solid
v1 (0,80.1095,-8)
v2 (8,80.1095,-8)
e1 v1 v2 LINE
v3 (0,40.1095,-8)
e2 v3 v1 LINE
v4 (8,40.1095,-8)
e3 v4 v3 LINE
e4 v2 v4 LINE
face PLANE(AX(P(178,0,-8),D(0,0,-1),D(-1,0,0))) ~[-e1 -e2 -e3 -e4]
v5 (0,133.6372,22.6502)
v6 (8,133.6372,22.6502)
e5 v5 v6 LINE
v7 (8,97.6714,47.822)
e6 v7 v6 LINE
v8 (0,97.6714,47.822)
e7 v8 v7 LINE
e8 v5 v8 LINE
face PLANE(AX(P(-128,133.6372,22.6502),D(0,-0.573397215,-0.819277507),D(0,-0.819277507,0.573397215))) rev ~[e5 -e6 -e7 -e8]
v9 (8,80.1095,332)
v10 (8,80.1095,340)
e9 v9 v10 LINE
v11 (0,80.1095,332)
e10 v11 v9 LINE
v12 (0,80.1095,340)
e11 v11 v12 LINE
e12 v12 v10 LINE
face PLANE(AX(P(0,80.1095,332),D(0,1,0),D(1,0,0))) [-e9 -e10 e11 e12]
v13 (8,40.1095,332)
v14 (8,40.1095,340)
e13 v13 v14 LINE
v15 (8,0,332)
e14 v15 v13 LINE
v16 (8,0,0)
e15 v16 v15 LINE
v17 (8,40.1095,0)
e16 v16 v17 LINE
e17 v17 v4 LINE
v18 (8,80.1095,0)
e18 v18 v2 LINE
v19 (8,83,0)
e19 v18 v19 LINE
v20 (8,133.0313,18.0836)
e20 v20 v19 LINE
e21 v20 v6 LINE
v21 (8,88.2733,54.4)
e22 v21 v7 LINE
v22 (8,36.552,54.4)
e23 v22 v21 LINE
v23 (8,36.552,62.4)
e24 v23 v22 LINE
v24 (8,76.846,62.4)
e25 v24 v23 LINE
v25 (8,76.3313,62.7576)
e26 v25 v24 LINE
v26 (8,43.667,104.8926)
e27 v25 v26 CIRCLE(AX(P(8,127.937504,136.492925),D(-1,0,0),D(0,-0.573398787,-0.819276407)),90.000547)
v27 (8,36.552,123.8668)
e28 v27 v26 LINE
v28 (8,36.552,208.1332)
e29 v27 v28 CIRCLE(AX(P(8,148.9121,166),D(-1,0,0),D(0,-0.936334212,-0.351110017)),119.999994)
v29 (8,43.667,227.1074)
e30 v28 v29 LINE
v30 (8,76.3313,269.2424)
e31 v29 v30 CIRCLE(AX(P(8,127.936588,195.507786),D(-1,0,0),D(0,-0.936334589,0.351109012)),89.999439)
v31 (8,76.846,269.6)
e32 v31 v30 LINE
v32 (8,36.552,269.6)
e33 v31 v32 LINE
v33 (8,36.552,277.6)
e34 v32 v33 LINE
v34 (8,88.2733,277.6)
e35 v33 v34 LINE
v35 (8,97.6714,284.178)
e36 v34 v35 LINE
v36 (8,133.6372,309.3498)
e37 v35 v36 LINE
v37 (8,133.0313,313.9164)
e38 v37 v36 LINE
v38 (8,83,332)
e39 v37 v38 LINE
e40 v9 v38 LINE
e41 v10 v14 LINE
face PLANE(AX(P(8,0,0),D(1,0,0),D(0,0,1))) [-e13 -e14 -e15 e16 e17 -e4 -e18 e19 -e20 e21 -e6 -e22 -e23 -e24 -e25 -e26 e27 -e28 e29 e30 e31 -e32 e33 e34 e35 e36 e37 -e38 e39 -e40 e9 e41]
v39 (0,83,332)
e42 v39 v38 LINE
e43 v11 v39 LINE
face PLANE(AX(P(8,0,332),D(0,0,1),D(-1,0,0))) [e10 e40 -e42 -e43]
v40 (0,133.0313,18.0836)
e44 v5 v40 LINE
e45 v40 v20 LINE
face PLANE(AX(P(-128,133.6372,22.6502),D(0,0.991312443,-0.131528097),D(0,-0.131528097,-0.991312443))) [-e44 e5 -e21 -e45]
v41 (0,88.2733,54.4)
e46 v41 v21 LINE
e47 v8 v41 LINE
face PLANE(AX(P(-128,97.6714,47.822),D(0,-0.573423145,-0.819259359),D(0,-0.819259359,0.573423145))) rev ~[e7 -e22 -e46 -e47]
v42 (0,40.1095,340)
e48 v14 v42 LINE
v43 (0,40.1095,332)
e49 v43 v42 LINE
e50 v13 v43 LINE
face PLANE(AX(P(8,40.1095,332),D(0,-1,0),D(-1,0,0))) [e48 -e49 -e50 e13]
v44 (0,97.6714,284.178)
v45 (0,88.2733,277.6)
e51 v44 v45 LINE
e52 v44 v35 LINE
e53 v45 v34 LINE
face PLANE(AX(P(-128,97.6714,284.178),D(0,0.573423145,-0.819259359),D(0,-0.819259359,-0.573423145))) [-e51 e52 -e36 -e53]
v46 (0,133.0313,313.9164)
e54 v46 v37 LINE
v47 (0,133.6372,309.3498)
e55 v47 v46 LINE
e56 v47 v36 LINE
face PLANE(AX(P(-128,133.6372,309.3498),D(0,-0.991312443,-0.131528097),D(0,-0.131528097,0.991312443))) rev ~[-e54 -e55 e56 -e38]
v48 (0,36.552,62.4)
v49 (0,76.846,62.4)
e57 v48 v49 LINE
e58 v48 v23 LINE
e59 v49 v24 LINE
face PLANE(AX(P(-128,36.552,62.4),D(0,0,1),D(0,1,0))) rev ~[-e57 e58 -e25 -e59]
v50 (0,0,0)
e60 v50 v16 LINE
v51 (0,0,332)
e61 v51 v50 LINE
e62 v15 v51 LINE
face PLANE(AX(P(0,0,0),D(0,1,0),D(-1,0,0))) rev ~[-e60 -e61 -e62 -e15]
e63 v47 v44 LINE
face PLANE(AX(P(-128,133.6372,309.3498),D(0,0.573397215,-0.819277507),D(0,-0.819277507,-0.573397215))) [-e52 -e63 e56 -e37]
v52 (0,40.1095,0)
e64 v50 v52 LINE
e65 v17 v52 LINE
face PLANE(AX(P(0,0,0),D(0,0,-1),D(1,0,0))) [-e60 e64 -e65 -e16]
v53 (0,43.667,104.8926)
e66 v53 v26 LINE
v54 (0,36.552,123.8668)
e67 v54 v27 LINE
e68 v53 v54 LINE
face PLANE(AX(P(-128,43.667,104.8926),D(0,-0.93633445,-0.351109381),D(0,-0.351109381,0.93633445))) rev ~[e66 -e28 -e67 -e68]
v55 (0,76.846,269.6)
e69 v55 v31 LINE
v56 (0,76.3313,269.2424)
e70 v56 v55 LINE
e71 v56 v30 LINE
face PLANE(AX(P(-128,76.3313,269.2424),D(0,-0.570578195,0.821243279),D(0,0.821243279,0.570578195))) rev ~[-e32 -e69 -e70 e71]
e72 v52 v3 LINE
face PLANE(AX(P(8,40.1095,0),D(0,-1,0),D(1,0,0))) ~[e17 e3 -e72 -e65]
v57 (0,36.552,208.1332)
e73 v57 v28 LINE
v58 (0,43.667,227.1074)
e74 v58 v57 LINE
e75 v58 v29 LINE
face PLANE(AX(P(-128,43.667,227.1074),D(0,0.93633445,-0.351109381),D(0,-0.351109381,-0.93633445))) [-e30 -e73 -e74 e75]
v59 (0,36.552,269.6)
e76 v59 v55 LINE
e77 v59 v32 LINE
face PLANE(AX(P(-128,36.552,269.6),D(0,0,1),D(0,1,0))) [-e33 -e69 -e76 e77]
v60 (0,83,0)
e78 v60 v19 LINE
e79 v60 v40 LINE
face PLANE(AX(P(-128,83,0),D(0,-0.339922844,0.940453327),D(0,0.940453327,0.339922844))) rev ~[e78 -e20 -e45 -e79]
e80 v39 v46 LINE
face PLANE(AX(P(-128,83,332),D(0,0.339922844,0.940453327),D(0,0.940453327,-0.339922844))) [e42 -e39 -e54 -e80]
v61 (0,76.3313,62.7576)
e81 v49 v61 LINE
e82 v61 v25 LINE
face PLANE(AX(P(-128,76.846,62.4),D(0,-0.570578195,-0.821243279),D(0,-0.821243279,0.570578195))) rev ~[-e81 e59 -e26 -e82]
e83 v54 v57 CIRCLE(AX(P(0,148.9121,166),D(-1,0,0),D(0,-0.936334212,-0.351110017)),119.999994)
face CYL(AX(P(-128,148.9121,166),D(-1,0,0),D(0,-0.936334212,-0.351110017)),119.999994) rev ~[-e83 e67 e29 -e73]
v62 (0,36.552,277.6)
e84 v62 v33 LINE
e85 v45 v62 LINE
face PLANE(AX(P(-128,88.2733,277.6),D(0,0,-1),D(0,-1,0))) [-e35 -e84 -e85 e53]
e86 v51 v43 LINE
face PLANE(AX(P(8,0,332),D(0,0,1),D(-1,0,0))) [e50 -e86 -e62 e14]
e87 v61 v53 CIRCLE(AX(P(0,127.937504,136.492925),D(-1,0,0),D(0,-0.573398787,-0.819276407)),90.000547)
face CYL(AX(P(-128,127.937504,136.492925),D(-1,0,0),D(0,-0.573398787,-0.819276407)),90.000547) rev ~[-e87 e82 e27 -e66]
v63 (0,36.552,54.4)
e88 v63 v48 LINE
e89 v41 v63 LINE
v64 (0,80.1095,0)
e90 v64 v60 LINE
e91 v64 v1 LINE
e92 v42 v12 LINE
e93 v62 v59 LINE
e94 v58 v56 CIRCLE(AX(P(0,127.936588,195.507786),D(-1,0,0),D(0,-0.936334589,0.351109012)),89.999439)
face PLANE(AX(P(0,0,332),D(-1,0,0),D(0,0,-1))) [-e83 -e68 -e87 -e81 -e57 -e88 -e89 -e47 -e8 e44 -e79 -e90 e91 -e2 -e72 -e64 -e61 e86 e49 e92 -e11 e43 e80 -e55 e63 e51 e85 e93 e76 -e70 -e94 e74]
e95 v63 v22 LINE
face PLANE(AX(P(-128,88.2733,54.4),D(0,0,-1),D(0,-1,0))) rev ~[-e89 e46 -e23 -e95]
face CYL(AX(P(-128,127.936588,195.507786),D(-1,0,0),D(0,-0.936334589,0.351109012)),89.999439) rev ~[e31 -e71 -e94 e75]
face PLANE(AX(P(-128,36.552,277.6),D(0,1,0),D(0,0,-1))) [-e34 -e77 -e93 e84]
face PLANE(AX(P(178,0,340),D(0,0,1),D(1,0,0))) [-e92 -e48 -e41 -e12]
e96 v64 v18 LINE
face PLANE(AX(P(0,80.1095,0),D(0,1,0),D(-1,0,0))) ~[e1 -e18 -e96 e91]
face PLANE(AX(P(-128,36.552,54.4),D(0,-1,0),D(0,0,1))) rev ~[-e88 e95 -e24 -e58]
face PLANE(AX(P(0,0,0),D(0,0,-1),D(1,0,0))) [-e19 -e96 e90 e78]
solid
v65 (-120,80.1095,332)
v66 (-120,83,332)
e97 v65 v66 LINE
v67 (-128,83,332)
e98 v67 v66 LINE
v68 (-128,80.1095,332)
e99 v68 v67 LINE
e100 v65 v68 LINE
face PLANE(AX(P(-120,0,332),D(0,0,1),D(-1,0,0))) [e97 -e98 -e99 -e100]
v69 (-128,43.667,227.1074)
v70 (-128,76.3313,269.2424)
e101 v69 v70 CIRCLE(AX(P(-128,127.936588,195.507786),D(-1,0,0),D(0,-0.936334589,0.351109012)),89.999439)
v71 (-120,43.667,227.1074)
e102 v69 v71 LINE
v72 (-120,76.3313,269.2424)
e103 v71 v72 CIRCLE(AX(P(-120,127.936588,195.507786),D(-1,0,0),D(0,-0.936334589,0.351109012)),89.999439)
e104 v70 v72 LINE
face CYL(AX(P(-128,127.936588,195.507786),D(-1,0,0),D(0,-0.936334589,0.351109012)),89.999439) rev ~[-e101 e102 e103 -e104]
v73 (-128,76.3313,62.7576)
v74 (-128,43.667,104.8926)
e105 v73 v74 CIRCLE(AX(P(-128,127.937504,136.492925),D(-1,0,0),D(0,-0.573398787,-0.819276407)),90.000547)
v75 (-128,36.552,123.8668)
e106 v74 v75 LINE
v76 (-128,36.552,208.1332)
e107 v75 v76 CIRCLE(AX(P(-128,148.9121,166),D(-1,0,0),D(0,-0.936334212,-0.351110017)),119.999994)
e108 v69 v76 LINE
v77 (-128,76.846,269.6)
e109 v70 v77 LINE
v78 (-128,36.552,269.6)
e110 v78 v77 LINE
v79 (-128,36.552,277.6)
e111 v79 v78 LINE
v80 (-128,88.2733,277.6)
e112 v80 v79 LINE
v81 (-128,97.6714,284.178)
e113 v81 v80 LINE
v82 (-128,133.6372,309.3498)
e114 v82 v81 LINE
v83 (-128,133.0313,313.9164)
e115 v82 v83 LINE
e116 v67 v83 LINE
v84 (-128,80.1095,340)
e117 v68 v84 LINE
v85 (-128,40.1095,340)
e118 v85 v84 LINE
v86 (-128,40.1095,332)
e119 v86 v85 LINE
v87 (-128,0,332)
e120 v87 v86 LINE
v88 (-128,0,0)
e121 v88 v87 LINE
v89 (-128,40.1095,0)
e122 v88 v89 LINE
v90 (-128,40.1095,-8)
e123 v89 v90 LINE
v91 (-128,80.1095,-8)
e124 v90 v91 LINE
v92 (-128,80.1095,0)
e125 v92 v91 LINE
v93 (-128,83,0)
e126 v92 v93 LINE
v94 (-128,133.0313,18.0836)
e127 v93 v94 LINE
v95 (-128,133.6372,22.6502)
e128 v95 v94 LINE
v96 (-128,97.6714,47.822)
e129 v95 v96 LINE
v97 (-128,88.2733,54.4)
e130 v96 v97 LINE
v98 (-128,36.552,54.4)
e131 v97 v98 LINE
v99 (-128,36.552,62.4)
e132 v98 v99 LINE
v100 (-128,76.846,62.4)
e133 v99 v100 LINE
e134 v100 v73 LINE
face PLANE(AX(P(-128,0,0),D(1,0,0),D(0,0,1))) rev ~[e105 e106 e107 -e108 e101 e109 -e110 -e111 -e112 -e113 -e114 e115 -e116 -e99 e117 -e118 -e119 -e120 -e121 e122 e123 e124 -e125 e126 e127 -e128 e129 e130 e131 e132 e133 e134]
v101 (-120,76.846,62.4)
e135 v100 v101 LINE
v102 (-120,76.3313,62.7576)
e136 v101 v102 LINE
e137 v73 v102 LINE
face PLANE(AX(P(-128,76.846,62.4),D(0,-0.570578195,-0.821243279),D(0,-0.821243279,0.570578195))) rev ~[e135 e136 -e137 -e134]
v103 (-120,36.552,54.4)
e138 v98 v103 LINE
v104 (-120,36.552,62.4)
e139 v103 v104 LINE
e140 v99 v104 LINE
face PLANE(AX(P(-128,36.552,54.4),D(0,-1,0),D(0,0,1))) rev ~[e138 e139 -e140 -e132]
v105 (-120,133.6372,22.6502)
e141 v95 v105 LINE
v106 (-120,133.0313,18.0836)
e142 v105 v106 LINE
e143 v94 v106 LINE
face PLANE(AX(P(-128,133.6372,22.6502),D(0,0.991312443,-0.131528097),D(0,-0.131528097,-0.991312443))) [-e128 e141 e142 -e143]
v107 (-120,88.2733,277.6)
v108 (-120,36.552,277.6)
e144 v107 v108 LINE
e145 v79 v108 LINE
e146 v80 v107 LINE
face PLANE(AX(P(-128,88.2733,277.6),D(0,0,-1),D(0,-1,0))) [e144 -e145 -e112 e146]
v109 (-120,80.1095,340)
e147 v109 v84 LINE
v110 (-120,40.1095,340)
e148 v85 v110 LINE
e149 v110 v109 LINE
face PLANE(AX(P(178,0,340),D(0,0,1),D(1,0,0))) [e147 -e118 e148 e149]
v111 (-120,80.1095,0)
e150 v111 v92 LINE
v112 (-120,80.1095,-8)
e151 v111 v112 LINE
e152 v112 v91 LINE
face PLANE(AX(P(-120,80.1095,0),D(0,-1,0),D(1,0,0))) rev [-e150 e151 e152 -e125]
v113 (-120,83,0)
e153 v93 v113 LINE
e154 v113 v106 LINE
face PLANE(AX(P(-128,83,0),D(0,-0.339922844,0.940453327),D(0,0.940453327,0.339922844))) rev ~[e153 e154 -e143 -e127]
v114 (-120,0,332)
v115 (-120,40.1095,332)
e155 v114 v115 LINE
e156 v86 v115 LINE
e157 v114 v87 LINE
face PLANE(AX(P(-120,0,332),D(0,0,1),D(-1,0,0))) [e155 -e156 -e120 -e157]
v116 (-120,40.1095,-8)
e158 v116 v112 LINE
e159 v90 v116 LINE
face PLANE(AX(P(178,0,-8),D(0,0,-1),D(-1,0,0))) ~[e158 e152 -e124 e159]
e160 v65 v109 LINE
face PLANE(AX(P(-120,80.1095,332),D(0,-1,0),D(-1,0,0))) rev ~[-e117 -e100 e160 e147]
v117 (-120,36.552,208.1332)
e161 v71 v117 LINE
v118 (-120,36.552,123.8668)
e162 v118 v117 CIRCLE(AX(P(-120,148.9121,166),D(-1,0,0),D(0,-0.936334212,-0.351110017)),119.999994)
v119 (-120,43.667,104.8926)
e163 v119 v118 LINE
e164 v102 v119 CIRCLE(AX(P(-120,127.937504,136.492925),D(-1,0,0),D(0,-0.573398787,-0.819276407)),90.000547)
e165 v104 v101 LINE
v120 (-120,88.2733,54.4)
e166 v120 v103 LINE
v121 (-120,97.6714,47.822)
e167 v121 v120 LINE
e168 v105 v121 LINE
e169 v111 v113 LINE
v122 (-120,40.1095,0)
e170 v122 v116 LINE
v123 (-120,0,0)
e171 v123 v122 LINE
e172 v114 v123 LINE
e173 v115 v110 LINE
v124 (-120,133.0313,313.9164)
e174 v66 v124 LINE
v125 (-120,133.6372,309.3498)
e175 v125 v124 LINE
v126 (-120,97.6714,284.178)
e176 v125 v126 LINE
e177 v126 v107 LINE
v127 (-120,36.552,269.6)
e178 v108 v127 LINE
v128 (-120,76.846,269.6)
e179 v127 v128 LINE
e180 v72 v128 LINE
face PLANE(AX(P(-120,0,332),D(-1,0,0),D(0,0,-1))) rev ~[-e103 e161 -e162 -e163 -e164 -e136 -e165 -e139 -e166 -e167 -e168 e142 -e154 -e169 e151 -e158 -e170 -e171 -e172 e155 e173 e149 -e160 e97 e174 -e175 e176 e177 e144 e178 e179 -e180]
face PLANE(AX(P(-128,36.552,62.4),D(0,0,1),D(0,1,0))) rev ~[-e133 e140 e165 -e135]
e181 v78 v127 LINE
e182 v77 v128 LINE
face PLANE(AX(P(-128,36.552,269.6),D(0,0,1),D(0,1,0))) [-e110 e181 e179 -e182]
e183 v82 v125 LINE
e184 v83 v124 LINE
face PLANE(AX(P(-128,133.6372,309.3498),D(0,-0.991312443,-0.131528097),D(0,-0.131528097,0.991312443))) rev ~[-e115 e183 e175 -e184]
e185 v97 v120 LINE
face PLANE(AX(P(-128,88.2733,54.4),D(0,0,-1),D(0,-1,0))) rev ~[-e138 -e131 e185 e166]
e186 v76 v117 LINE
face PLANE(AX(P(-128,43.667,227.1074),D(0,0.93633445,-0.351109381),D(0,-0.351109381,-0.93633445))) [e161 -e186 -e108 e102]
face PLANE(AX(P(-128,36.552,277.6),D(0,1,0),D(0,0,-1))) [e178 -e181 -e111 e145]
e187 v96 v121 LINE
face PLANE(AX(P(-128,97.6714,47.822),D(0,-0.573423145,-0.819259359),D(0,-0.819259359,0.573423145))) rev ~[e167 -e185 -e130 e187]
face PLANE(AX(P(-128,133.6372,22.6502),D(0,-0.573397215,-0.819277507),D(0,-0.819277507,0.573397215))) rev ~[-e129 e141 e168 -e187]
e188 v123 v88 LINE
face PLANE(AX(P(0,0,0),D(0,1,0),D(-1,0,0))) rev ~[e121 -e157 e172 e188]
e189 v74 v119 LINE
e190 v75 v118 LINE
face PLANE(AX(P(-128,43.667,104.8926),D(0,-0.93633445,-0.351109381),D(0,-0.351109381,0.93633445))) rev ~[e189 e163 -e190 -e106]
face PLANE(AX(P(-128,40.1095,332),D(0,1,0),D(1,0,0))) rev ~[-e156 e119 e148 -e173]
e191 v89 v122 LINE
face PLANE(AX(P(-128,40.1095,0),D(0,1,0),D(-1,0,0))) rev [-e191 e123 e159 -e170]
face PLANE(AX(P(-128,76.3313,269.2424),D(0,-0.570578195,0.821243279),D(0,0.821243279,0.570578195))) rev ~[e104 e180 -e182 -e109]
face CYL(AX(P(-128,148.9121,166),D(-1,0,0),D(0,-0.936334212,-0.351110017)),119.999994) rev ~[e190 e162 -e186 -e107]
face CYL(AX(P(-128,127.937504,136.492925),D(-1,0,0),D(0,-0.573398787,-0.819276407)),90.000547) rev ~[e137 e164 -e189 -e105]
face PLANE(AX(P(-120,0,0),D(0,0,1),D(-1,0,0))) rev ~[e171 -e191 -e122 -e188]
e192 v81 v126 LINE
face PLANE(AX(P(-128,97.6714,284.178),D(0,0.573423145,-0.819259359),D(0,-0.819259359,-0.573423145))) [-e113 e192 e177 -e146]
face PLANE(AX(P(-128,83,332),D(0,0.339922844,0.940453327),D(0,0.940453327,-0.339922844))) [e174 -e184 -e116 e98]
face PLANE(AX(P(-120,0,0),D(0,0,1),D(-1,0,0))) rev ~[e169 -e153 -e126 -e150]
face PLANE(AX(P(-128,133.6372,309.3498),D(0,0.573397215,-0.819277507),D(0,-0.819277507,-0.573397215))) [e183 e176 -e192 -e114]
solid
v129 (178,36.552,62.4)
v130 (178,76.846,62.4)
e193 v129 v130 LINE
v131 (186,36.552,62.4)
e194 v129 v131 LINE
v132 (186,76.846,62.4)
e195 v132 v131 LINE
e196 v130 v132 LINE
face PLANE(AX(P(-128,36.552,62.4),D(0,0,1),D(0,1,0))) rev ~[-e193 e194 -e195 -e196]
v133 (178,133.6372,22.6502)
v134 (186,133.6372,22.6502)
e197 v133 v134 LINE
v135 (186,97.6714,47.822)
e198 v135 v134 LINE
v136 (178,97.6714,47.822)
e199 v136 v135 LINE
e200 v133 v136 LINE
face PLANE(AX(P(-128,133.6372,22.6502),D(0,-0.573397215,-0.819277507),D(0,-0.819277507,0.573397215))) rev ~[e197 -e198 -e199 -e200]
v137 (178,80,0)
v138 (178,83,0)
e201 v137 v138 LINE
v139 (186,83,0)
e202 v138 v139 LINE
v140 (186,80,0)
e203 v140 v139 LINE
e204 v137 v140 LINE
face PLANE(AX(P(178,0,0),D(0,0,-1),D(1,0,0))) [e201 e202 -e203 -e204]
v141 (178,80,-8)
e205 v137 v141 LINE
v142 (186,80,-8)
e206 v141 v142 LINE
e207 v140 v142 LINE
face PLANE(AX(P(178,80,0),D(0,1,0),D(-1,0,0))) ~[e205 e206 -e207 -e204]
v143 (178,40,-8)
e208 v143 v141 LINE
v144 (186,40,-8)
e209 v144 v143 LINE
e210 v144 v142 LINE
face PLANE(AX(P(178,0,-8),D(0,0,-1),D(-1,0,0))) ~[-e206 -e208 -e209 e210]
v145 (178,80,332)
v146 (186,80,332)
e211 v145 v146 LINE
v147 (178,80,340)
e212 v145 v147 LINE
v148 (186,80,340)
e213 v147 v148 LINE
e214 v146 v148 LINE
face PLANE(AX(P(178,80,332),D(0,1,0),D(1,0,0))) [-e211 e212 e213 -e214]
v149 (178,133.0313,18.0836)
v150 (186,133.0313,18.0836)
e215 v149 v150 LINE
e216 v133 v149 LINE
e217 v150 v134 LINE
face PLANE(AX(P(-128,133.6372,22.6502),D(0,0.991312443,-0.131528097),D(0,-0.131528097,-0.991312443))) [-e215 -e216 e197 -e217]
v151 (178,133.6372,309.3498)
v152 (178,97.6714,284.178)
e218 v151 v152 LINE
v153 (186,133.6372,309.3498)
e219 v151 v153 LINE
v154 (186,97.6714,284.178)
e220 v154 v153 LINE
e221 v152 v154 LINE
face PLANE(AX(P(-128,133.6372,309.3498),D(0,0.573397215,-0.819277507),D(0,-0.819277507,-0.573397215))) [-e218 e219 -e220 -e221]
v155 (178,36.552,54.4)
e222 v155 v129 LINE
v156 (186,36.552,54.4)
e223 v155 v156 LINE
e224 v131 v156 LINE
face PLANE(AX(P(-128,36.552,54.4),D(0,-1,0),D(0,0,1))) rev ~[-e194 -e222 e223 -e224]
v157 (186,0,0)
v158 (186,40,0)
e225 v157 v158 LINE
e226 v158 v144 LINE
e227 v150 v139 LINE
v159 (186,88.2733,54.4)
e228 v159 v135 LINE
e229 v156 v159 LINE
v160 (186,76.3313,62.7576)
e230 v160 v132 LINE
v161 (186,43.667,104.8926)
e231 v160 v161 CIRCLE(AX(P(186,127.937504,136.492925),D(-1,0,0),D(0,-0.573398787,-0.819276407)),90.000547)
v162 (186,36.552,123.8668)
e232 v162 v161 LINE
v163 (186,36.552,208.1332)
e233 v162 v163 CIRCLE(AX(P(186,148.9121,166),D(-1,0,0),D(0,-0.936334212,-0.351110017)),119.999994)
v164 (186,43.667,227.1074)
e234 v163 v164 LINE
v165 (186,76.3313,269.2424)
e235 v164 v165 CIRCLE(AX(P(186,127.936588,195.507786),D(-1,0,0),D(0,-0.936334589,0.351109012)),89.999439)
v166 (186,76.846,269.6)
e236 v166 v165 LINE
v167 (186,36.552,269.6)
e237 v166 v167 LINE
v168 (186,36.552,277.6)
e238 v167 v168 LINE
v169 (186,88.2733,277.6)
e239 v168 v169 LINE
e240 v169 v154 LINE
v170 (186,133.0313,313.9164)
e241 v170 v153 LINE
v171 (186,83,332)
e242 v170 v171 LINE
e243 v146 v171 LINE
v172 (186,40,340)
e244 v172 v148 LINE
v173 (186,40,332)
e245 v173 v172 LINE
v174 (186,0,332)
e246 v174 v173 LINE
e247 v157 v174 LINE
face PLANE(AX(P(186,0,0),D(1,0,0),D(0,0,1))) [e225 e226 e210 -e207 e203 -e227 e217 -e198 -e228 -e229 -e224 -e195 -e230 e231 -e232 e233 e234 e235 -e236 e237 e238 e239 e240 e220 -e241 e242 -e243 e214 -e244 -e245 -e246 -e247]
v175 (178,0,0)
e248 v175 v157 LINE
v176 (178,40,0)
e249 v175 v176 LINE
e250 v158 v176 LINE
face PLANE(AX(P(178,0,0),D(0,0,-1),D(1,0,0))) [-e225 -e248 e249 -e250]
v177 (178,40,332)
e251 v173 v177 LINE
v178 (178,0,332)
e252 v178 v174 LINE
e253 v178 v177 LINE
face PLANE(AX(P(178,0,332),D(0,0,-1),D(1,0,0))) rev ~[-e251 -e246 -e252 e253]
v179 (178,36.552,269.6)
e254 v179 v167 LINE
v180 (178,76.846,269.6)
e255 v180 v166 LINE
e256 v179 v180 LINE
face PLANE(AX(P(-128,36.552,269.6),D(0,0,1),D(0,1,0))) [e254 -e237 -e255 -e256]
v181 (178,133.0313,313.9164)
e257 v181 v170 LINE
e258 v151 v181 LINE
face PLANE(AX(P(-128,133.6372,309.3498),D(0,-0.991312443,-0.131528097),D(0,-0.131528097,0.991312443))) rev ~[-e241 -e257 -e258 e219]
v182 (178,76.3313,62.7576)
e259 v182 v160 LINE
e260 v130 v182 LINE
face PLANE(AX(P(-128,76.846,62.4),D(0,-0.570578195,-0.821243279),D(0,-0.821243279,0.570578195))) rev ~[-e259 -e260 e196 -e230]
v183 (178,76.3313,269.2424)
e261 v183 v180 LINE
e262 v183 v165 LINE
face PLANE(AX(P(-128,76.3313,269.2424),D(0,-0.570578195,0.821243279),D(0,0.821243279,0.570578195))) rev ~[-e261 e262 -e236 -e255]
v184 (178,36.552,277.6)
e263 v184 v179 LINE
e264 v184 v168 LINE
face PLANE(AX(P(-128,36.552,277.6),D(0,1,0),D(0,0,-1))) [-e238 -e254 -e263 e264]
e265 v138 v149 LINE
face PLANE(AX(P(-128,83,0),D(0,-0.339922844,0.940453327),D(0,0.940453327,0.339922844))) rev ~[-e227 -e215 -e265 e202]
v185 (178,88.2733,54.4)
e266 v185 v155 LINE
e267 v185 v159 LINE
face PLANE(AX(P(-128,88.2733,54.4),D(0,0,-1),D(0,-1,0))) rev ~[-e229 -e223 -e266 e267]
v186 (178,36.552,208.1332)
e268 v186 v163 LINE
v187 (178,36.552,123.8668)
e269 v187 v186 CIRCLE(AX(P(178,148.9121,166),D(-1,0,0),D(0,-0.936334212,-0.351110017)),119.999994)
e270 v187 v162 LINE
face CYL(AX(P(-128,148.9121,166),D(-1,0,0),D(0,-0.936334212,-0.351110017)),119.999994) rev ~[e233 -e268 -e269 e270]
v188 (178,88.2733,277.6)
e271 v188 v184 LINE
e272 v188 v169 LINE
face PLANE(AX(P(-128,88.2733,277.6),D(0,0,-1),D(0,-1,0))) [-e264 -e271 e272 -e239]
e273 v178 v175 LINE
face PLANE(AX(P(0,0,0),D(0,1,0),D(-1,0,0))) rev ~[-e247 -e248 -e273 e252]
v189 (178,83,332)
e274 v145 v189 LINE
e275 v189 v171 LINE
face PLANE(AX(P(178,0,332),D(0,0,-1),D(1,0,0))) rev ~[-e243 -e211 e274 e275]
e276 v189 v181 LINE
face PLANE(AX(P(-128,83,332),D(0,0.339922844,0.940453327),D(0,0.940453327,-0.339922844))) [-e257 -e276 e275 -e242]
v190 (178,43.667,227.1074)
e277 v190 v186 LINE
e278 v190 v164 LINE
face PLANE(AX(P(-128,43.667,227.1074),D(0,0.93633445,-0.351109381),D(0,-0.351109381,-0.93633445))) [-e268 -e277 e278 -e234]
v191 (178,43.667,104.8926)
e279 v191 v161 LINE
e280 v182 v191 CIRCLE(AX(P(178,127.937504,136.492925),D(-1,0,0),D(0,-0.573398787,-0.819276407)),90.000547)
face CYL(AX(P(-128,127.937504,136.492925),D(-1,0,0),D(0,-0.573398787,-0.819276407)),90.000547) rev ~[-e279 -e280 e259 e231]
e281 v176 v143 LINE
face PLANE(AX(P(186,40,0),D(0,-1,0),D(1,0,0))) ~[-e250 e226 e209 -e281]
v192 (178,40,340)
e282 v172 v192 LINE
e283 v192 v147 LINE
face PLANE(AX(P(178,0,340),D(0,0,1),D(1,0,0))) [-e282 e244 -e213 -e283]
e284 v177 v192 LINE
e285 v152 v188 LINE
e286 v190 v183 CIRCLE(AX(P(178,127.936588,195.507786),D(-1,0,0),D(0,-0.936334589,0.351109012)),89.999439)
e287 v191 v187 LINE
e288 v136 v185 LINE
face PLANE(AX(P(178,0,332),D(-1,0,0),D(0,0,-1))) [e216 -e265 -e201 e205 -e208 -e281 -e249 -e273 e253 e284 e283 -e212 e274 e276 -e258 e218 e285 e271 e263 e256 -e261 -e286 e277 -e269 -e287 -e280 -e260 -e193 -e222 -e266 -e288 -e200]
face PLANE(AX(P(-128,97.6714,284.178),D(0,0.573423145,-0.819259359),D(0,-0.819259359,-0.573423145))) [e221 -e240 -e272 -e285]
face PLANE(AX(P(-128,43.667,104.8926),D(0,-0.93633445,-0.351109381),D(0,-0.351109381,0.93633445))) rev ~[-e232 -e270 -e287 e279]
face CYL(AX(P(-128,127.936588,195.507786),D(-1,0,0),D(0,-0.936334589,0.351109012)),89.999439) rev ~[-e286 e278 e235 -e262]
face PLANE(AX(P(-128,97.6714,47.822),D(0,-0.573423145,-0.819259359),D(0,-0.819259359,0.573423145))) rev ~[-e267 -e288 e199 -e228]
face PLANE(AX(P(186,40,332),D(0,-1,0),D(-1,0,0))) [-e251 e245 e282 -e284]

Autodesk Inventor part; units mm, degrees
ref_plane "YZ Plane" through (0, 0, 0) normal (1, 0, 0) x (0, 1, 0)
ref_plane "XZ Plane" through (0, 0, 0) normal (0, 1, 0) x (-1, 0, 0)
sketch "Эскиз1" plane through (0, 0, 0) normal (0, 1, 0) x (-1, 0, 0)
  line L0 (-8, 0) -> (-8, 332)
  line L1 (-8, 332) -> (2, 332)
  line L2 (-8, 0) -> (-178, 0) construction
  line L3 (-178, 332) -> (-187.2412, 332)
  line L4 (-168, 0) -> (-178, 0)
  line L5 (2, 332) -> (0, 332)
  line L6 (0, 332) -> (0, 0)
  line L7 (120, 332) -> (120, 0)
  line L8 (0, 0) -> (-8, 0)
  line L9 (-168, 0) -> (-186, 0)
  line L10 (-186, 0) -> (-186, 332)
  line L11 (-186, 332) -> (-187.2412, 332)
  line L12 (-178, 332) -> (-178, 0)
  line L13 (128, 0) -> (128, 332)
  line L14 (120, 0) -> (128, 0)
  line L15 (120, 332) -> (128, 332)
  point P0 (0, 0)
  point P1 (-166, 0)
  point P2 (-178, 0)
  dimension "d1" = 332
  dimension "d2" = 170
  dimension "d18" = 8
  dimension "d25" = 8
  dimension "d26" = 120
  dimension "d27" = 8
  dimension "d28" = 0
extrude "Выдавливание1" add sketch "Эскиз1" along normal blind 166
sketch "Эскиз2" plane through (-130, 0, 0) normal (-1, 0, 0) x (0, 0, 1)
  line L0 (0, 0) -> (0, 166) construction
  line L1 (332, 0) -> (332, 166) construction
  line L2 (0, 166) -> (166, 166) construction
  circle A0 centre (166, 166) radius 136 construction
  line L3 (104.8926, 43.667) -> (123.8668, 36.552)
  line L4 (227.1074, 43.667) -> (208.1332, 36.552)
  arc A1 (123.8668, 36.552) -> (208.1332, 36.552) centre (166, 148.9121) ccw
  line L5 (0, 166) -> (332, 166) construction
  line L6 (22.6502, 133.6372) -> (54.5783, 88.0179)
  line L7 (54.5783, 88.0179) -> (62.7576, 76.3313)
  line L8 (0, 83) -> (18.0836, 133.0313)
  arc A2 (62.7576, 76.3313) -> (104.8926, 43.667) centre (136.4925, 127.9371) ccw
  line L9 (22.6502, 133.6372) -> (18.0836, 133.0313)
  line L10 (166, 166) -> (166, 148.9121) construction
  line L11 (309.3498, 133.6372) -> (277.4217, 88.0179)
  line L12 (277.4217, 88.0179) -> (269.2424, 76.3313)
  line L13 (332, 83) -> (313.9164, 133.0313)
  arc A3 (227.1074, 43.667) -> (269.2424, 76.3313) centre (195.5075, 127.9371) ccw
  line L14 (309.3498, 133.6372) -> (313.9164, 133.0313)
  line L15 (332, 83) -> (332, 166)
  line L16 (332, 166) -> (0, 166)
  line L17 (0, 166) -> (0, 83)
  point P0 (19.7832, 137.7335)
  dimension "d10" = 272
  dimension "d11" = 120
  dimension "d12" = 90
  dimension "d13" = 5
  dimension "d14" = 5
ref_plane "РабПлоскость1" through (0, 0, 166) normal (0, 0, 1) x (1, 0, 0)
sketch "Эскиз4" plane through (-128, 0, 0) normal (-1, 0, 0) x (0, 0, 1)
  line L0 (0, 0) -> (0, 166) construction
  line L1 (332, 0) -> (332, 166) construction
  line L2 (0, 166) -> (166, 166) construction
  arc A0 (277.6, 88.2733) -> (213.751, 38.6585) centre (166, 166) ccw construction
  line L3 (104.8926, 43.667) -> (123.8668, 36.552)
  line L4 (227.1074, 43.667) -> (208.1332, 36.552)
  arc A1 (123.8668, 36.552) -> (208.1332, 36.552) centre (166, 148.9121) ccw
  line L5 (0, 166) -> (332, 166) construction
  line L6 (22.6502, 133.6372) -> (47.822, 97.6714)
  line L7 (0, 83) -> (18.0836, 133.0313)
  arc A2 (62.7576, 76.3313) -> (104.8926, 43.667) centre (136.4925, 127.9371) ccw
  line L8 (22.6502, 133.6372) -> (18.0836, 133.0313)
  line L9 (166, 166) -> (166, 148.9121) construction
  line L10 (309.3498, 133.6372) -> (284.178, 97.6714)
  line L11 (332, 83) -> (313.9164, 133.0313)
  line L12 (309.3498, 133.6372) -> (313.9164, 133.0313)
  arc A3 (227.1074, 43.667) -> (269.2424, 76.3313) centre (195.5075, 127.9371) ccw
  line L13 (332, 83) -> (332, 166)
  line L14 (332, 166) -> (0, 166)
  line L15 (0, 166) -> (0, 83)
  line L16 (54.4, 106.4464) -> (54.4, 143.4464) projected
  line L17 (54.4, 88.2733) -> (54.4, 36.552)
  line L18 (54.4, 36.552) -> (62.4, 36.552)
  line L19 (62.4, 36.552) -> (62.4, 76.846)
  line L20 (47.822, 97.6714) -> (54.4, 88.2733)
  line L21 (62.4, 76.846) -> (62.7576, 76.3313)
  line L22 (277.6, 88.2733) -> (277.6, 36.552)
  line L23 (277.6, 36.552) -> (269.6, 36.552)
  line L24 (269.6, 36.552) -> (269.6, 76.846)
  line L25 (269.2424, 76.3313) -> (269.6, 76.846)
  line L26 (284.178, 97.6714) -> (277.6, 88.2733)
  point P0 (0, 0)
  point P1 (54.5783, 88.0179)
  point P2 (19.7832, 137.7335)
  point P3 (277.4217, 88.0179)
  point P4 (283.0312, 96.0329)
  point P5 (48.9688, 96.0329)
  dimension "d29" = 272
  dimension "d30" = 120
  dimension "d31" = 90
  dimension "d32" = 5
  dimension "d33" = 5
  dimension "d46" = 2
  dimension "d50" = 2
  dimension "d53" = 8
  dimension "d54" = 90
extrude "Выдавливание4" cut sketch "Эскиз4" against normal through all
sketch "Эскиз5" plane through (178, 0, 332) normal (0, 0, 1) x (1, 0, 0)
  line L0 (39.2204, 40) -> (-44.3448, 40) construction
  line L1 (39.2204, 0) -> (-44.3448, 0) construction
  line L2 (8, 0) -> (8, 83) projected
  line L3 (8, 40) -> (0, 40)
  line L4 (0, 40) -> (0, 80)
  line L5 (0, 80) -> (8, 80)
  line L6 (8, 80) -> (8, 40)
  line L7 (-44.3448, 40) -> (-315.6542, 40) construction
  line L8 (-170, 36.552) -> (-170, 43.667) projected
  line L9 (-178, 133.6372) -> (-178, 97.6714) projected
  line L10 (-170, 40.1095) -> (-178, 40.1095)
  line L11 (-178, 40.1095) -> (-178, 80.1095)
  line L12 (-178, 80.1095) -> (-170, 80.1095)
  line L13 (-170, 80.1095) -> (-170, 40.1095)
  line L14 (-306, 36.552) -> (-306, 43.667) projected
  line L15 (-298, 0) -> (-298, 83) projected
  line L16 (-306, 40.1095) -> (-298, 40.1095)
  line L17 (-298, 40.1095) -> (-298, 80.1095)
  line L18 (-298, 80.1095) -> (-306, 80.1095)
  line L19 (-306, 80.1095) -> (-306, 40.1095)
  point P0 (-178, 0)
  point P1 (-178, 76.3313)
  point P2 (-178, 76.3313)
  dimension "d36" = 40
  dimension "d37" = 8
  dimension "d38" = 40
  dimension "d39" = 40
extrude "Выдавливание5" add sketch "Эскиз5" along normal blind 8
mirror "Зеркальное отражение2" about plane through (0, 0, 166) normal (0, 0, 1) of "Выдавливание5"
equation "\"d14\" = d13"
equation "\"d33\" = d32"
equation "\"d46\" = d45"
equation "\"d50\" = d49"
equation "\"d45\" = d43"
equation "\"d49\" = d43"
equation "\"d43\" = 2"
properties part number "dno"
